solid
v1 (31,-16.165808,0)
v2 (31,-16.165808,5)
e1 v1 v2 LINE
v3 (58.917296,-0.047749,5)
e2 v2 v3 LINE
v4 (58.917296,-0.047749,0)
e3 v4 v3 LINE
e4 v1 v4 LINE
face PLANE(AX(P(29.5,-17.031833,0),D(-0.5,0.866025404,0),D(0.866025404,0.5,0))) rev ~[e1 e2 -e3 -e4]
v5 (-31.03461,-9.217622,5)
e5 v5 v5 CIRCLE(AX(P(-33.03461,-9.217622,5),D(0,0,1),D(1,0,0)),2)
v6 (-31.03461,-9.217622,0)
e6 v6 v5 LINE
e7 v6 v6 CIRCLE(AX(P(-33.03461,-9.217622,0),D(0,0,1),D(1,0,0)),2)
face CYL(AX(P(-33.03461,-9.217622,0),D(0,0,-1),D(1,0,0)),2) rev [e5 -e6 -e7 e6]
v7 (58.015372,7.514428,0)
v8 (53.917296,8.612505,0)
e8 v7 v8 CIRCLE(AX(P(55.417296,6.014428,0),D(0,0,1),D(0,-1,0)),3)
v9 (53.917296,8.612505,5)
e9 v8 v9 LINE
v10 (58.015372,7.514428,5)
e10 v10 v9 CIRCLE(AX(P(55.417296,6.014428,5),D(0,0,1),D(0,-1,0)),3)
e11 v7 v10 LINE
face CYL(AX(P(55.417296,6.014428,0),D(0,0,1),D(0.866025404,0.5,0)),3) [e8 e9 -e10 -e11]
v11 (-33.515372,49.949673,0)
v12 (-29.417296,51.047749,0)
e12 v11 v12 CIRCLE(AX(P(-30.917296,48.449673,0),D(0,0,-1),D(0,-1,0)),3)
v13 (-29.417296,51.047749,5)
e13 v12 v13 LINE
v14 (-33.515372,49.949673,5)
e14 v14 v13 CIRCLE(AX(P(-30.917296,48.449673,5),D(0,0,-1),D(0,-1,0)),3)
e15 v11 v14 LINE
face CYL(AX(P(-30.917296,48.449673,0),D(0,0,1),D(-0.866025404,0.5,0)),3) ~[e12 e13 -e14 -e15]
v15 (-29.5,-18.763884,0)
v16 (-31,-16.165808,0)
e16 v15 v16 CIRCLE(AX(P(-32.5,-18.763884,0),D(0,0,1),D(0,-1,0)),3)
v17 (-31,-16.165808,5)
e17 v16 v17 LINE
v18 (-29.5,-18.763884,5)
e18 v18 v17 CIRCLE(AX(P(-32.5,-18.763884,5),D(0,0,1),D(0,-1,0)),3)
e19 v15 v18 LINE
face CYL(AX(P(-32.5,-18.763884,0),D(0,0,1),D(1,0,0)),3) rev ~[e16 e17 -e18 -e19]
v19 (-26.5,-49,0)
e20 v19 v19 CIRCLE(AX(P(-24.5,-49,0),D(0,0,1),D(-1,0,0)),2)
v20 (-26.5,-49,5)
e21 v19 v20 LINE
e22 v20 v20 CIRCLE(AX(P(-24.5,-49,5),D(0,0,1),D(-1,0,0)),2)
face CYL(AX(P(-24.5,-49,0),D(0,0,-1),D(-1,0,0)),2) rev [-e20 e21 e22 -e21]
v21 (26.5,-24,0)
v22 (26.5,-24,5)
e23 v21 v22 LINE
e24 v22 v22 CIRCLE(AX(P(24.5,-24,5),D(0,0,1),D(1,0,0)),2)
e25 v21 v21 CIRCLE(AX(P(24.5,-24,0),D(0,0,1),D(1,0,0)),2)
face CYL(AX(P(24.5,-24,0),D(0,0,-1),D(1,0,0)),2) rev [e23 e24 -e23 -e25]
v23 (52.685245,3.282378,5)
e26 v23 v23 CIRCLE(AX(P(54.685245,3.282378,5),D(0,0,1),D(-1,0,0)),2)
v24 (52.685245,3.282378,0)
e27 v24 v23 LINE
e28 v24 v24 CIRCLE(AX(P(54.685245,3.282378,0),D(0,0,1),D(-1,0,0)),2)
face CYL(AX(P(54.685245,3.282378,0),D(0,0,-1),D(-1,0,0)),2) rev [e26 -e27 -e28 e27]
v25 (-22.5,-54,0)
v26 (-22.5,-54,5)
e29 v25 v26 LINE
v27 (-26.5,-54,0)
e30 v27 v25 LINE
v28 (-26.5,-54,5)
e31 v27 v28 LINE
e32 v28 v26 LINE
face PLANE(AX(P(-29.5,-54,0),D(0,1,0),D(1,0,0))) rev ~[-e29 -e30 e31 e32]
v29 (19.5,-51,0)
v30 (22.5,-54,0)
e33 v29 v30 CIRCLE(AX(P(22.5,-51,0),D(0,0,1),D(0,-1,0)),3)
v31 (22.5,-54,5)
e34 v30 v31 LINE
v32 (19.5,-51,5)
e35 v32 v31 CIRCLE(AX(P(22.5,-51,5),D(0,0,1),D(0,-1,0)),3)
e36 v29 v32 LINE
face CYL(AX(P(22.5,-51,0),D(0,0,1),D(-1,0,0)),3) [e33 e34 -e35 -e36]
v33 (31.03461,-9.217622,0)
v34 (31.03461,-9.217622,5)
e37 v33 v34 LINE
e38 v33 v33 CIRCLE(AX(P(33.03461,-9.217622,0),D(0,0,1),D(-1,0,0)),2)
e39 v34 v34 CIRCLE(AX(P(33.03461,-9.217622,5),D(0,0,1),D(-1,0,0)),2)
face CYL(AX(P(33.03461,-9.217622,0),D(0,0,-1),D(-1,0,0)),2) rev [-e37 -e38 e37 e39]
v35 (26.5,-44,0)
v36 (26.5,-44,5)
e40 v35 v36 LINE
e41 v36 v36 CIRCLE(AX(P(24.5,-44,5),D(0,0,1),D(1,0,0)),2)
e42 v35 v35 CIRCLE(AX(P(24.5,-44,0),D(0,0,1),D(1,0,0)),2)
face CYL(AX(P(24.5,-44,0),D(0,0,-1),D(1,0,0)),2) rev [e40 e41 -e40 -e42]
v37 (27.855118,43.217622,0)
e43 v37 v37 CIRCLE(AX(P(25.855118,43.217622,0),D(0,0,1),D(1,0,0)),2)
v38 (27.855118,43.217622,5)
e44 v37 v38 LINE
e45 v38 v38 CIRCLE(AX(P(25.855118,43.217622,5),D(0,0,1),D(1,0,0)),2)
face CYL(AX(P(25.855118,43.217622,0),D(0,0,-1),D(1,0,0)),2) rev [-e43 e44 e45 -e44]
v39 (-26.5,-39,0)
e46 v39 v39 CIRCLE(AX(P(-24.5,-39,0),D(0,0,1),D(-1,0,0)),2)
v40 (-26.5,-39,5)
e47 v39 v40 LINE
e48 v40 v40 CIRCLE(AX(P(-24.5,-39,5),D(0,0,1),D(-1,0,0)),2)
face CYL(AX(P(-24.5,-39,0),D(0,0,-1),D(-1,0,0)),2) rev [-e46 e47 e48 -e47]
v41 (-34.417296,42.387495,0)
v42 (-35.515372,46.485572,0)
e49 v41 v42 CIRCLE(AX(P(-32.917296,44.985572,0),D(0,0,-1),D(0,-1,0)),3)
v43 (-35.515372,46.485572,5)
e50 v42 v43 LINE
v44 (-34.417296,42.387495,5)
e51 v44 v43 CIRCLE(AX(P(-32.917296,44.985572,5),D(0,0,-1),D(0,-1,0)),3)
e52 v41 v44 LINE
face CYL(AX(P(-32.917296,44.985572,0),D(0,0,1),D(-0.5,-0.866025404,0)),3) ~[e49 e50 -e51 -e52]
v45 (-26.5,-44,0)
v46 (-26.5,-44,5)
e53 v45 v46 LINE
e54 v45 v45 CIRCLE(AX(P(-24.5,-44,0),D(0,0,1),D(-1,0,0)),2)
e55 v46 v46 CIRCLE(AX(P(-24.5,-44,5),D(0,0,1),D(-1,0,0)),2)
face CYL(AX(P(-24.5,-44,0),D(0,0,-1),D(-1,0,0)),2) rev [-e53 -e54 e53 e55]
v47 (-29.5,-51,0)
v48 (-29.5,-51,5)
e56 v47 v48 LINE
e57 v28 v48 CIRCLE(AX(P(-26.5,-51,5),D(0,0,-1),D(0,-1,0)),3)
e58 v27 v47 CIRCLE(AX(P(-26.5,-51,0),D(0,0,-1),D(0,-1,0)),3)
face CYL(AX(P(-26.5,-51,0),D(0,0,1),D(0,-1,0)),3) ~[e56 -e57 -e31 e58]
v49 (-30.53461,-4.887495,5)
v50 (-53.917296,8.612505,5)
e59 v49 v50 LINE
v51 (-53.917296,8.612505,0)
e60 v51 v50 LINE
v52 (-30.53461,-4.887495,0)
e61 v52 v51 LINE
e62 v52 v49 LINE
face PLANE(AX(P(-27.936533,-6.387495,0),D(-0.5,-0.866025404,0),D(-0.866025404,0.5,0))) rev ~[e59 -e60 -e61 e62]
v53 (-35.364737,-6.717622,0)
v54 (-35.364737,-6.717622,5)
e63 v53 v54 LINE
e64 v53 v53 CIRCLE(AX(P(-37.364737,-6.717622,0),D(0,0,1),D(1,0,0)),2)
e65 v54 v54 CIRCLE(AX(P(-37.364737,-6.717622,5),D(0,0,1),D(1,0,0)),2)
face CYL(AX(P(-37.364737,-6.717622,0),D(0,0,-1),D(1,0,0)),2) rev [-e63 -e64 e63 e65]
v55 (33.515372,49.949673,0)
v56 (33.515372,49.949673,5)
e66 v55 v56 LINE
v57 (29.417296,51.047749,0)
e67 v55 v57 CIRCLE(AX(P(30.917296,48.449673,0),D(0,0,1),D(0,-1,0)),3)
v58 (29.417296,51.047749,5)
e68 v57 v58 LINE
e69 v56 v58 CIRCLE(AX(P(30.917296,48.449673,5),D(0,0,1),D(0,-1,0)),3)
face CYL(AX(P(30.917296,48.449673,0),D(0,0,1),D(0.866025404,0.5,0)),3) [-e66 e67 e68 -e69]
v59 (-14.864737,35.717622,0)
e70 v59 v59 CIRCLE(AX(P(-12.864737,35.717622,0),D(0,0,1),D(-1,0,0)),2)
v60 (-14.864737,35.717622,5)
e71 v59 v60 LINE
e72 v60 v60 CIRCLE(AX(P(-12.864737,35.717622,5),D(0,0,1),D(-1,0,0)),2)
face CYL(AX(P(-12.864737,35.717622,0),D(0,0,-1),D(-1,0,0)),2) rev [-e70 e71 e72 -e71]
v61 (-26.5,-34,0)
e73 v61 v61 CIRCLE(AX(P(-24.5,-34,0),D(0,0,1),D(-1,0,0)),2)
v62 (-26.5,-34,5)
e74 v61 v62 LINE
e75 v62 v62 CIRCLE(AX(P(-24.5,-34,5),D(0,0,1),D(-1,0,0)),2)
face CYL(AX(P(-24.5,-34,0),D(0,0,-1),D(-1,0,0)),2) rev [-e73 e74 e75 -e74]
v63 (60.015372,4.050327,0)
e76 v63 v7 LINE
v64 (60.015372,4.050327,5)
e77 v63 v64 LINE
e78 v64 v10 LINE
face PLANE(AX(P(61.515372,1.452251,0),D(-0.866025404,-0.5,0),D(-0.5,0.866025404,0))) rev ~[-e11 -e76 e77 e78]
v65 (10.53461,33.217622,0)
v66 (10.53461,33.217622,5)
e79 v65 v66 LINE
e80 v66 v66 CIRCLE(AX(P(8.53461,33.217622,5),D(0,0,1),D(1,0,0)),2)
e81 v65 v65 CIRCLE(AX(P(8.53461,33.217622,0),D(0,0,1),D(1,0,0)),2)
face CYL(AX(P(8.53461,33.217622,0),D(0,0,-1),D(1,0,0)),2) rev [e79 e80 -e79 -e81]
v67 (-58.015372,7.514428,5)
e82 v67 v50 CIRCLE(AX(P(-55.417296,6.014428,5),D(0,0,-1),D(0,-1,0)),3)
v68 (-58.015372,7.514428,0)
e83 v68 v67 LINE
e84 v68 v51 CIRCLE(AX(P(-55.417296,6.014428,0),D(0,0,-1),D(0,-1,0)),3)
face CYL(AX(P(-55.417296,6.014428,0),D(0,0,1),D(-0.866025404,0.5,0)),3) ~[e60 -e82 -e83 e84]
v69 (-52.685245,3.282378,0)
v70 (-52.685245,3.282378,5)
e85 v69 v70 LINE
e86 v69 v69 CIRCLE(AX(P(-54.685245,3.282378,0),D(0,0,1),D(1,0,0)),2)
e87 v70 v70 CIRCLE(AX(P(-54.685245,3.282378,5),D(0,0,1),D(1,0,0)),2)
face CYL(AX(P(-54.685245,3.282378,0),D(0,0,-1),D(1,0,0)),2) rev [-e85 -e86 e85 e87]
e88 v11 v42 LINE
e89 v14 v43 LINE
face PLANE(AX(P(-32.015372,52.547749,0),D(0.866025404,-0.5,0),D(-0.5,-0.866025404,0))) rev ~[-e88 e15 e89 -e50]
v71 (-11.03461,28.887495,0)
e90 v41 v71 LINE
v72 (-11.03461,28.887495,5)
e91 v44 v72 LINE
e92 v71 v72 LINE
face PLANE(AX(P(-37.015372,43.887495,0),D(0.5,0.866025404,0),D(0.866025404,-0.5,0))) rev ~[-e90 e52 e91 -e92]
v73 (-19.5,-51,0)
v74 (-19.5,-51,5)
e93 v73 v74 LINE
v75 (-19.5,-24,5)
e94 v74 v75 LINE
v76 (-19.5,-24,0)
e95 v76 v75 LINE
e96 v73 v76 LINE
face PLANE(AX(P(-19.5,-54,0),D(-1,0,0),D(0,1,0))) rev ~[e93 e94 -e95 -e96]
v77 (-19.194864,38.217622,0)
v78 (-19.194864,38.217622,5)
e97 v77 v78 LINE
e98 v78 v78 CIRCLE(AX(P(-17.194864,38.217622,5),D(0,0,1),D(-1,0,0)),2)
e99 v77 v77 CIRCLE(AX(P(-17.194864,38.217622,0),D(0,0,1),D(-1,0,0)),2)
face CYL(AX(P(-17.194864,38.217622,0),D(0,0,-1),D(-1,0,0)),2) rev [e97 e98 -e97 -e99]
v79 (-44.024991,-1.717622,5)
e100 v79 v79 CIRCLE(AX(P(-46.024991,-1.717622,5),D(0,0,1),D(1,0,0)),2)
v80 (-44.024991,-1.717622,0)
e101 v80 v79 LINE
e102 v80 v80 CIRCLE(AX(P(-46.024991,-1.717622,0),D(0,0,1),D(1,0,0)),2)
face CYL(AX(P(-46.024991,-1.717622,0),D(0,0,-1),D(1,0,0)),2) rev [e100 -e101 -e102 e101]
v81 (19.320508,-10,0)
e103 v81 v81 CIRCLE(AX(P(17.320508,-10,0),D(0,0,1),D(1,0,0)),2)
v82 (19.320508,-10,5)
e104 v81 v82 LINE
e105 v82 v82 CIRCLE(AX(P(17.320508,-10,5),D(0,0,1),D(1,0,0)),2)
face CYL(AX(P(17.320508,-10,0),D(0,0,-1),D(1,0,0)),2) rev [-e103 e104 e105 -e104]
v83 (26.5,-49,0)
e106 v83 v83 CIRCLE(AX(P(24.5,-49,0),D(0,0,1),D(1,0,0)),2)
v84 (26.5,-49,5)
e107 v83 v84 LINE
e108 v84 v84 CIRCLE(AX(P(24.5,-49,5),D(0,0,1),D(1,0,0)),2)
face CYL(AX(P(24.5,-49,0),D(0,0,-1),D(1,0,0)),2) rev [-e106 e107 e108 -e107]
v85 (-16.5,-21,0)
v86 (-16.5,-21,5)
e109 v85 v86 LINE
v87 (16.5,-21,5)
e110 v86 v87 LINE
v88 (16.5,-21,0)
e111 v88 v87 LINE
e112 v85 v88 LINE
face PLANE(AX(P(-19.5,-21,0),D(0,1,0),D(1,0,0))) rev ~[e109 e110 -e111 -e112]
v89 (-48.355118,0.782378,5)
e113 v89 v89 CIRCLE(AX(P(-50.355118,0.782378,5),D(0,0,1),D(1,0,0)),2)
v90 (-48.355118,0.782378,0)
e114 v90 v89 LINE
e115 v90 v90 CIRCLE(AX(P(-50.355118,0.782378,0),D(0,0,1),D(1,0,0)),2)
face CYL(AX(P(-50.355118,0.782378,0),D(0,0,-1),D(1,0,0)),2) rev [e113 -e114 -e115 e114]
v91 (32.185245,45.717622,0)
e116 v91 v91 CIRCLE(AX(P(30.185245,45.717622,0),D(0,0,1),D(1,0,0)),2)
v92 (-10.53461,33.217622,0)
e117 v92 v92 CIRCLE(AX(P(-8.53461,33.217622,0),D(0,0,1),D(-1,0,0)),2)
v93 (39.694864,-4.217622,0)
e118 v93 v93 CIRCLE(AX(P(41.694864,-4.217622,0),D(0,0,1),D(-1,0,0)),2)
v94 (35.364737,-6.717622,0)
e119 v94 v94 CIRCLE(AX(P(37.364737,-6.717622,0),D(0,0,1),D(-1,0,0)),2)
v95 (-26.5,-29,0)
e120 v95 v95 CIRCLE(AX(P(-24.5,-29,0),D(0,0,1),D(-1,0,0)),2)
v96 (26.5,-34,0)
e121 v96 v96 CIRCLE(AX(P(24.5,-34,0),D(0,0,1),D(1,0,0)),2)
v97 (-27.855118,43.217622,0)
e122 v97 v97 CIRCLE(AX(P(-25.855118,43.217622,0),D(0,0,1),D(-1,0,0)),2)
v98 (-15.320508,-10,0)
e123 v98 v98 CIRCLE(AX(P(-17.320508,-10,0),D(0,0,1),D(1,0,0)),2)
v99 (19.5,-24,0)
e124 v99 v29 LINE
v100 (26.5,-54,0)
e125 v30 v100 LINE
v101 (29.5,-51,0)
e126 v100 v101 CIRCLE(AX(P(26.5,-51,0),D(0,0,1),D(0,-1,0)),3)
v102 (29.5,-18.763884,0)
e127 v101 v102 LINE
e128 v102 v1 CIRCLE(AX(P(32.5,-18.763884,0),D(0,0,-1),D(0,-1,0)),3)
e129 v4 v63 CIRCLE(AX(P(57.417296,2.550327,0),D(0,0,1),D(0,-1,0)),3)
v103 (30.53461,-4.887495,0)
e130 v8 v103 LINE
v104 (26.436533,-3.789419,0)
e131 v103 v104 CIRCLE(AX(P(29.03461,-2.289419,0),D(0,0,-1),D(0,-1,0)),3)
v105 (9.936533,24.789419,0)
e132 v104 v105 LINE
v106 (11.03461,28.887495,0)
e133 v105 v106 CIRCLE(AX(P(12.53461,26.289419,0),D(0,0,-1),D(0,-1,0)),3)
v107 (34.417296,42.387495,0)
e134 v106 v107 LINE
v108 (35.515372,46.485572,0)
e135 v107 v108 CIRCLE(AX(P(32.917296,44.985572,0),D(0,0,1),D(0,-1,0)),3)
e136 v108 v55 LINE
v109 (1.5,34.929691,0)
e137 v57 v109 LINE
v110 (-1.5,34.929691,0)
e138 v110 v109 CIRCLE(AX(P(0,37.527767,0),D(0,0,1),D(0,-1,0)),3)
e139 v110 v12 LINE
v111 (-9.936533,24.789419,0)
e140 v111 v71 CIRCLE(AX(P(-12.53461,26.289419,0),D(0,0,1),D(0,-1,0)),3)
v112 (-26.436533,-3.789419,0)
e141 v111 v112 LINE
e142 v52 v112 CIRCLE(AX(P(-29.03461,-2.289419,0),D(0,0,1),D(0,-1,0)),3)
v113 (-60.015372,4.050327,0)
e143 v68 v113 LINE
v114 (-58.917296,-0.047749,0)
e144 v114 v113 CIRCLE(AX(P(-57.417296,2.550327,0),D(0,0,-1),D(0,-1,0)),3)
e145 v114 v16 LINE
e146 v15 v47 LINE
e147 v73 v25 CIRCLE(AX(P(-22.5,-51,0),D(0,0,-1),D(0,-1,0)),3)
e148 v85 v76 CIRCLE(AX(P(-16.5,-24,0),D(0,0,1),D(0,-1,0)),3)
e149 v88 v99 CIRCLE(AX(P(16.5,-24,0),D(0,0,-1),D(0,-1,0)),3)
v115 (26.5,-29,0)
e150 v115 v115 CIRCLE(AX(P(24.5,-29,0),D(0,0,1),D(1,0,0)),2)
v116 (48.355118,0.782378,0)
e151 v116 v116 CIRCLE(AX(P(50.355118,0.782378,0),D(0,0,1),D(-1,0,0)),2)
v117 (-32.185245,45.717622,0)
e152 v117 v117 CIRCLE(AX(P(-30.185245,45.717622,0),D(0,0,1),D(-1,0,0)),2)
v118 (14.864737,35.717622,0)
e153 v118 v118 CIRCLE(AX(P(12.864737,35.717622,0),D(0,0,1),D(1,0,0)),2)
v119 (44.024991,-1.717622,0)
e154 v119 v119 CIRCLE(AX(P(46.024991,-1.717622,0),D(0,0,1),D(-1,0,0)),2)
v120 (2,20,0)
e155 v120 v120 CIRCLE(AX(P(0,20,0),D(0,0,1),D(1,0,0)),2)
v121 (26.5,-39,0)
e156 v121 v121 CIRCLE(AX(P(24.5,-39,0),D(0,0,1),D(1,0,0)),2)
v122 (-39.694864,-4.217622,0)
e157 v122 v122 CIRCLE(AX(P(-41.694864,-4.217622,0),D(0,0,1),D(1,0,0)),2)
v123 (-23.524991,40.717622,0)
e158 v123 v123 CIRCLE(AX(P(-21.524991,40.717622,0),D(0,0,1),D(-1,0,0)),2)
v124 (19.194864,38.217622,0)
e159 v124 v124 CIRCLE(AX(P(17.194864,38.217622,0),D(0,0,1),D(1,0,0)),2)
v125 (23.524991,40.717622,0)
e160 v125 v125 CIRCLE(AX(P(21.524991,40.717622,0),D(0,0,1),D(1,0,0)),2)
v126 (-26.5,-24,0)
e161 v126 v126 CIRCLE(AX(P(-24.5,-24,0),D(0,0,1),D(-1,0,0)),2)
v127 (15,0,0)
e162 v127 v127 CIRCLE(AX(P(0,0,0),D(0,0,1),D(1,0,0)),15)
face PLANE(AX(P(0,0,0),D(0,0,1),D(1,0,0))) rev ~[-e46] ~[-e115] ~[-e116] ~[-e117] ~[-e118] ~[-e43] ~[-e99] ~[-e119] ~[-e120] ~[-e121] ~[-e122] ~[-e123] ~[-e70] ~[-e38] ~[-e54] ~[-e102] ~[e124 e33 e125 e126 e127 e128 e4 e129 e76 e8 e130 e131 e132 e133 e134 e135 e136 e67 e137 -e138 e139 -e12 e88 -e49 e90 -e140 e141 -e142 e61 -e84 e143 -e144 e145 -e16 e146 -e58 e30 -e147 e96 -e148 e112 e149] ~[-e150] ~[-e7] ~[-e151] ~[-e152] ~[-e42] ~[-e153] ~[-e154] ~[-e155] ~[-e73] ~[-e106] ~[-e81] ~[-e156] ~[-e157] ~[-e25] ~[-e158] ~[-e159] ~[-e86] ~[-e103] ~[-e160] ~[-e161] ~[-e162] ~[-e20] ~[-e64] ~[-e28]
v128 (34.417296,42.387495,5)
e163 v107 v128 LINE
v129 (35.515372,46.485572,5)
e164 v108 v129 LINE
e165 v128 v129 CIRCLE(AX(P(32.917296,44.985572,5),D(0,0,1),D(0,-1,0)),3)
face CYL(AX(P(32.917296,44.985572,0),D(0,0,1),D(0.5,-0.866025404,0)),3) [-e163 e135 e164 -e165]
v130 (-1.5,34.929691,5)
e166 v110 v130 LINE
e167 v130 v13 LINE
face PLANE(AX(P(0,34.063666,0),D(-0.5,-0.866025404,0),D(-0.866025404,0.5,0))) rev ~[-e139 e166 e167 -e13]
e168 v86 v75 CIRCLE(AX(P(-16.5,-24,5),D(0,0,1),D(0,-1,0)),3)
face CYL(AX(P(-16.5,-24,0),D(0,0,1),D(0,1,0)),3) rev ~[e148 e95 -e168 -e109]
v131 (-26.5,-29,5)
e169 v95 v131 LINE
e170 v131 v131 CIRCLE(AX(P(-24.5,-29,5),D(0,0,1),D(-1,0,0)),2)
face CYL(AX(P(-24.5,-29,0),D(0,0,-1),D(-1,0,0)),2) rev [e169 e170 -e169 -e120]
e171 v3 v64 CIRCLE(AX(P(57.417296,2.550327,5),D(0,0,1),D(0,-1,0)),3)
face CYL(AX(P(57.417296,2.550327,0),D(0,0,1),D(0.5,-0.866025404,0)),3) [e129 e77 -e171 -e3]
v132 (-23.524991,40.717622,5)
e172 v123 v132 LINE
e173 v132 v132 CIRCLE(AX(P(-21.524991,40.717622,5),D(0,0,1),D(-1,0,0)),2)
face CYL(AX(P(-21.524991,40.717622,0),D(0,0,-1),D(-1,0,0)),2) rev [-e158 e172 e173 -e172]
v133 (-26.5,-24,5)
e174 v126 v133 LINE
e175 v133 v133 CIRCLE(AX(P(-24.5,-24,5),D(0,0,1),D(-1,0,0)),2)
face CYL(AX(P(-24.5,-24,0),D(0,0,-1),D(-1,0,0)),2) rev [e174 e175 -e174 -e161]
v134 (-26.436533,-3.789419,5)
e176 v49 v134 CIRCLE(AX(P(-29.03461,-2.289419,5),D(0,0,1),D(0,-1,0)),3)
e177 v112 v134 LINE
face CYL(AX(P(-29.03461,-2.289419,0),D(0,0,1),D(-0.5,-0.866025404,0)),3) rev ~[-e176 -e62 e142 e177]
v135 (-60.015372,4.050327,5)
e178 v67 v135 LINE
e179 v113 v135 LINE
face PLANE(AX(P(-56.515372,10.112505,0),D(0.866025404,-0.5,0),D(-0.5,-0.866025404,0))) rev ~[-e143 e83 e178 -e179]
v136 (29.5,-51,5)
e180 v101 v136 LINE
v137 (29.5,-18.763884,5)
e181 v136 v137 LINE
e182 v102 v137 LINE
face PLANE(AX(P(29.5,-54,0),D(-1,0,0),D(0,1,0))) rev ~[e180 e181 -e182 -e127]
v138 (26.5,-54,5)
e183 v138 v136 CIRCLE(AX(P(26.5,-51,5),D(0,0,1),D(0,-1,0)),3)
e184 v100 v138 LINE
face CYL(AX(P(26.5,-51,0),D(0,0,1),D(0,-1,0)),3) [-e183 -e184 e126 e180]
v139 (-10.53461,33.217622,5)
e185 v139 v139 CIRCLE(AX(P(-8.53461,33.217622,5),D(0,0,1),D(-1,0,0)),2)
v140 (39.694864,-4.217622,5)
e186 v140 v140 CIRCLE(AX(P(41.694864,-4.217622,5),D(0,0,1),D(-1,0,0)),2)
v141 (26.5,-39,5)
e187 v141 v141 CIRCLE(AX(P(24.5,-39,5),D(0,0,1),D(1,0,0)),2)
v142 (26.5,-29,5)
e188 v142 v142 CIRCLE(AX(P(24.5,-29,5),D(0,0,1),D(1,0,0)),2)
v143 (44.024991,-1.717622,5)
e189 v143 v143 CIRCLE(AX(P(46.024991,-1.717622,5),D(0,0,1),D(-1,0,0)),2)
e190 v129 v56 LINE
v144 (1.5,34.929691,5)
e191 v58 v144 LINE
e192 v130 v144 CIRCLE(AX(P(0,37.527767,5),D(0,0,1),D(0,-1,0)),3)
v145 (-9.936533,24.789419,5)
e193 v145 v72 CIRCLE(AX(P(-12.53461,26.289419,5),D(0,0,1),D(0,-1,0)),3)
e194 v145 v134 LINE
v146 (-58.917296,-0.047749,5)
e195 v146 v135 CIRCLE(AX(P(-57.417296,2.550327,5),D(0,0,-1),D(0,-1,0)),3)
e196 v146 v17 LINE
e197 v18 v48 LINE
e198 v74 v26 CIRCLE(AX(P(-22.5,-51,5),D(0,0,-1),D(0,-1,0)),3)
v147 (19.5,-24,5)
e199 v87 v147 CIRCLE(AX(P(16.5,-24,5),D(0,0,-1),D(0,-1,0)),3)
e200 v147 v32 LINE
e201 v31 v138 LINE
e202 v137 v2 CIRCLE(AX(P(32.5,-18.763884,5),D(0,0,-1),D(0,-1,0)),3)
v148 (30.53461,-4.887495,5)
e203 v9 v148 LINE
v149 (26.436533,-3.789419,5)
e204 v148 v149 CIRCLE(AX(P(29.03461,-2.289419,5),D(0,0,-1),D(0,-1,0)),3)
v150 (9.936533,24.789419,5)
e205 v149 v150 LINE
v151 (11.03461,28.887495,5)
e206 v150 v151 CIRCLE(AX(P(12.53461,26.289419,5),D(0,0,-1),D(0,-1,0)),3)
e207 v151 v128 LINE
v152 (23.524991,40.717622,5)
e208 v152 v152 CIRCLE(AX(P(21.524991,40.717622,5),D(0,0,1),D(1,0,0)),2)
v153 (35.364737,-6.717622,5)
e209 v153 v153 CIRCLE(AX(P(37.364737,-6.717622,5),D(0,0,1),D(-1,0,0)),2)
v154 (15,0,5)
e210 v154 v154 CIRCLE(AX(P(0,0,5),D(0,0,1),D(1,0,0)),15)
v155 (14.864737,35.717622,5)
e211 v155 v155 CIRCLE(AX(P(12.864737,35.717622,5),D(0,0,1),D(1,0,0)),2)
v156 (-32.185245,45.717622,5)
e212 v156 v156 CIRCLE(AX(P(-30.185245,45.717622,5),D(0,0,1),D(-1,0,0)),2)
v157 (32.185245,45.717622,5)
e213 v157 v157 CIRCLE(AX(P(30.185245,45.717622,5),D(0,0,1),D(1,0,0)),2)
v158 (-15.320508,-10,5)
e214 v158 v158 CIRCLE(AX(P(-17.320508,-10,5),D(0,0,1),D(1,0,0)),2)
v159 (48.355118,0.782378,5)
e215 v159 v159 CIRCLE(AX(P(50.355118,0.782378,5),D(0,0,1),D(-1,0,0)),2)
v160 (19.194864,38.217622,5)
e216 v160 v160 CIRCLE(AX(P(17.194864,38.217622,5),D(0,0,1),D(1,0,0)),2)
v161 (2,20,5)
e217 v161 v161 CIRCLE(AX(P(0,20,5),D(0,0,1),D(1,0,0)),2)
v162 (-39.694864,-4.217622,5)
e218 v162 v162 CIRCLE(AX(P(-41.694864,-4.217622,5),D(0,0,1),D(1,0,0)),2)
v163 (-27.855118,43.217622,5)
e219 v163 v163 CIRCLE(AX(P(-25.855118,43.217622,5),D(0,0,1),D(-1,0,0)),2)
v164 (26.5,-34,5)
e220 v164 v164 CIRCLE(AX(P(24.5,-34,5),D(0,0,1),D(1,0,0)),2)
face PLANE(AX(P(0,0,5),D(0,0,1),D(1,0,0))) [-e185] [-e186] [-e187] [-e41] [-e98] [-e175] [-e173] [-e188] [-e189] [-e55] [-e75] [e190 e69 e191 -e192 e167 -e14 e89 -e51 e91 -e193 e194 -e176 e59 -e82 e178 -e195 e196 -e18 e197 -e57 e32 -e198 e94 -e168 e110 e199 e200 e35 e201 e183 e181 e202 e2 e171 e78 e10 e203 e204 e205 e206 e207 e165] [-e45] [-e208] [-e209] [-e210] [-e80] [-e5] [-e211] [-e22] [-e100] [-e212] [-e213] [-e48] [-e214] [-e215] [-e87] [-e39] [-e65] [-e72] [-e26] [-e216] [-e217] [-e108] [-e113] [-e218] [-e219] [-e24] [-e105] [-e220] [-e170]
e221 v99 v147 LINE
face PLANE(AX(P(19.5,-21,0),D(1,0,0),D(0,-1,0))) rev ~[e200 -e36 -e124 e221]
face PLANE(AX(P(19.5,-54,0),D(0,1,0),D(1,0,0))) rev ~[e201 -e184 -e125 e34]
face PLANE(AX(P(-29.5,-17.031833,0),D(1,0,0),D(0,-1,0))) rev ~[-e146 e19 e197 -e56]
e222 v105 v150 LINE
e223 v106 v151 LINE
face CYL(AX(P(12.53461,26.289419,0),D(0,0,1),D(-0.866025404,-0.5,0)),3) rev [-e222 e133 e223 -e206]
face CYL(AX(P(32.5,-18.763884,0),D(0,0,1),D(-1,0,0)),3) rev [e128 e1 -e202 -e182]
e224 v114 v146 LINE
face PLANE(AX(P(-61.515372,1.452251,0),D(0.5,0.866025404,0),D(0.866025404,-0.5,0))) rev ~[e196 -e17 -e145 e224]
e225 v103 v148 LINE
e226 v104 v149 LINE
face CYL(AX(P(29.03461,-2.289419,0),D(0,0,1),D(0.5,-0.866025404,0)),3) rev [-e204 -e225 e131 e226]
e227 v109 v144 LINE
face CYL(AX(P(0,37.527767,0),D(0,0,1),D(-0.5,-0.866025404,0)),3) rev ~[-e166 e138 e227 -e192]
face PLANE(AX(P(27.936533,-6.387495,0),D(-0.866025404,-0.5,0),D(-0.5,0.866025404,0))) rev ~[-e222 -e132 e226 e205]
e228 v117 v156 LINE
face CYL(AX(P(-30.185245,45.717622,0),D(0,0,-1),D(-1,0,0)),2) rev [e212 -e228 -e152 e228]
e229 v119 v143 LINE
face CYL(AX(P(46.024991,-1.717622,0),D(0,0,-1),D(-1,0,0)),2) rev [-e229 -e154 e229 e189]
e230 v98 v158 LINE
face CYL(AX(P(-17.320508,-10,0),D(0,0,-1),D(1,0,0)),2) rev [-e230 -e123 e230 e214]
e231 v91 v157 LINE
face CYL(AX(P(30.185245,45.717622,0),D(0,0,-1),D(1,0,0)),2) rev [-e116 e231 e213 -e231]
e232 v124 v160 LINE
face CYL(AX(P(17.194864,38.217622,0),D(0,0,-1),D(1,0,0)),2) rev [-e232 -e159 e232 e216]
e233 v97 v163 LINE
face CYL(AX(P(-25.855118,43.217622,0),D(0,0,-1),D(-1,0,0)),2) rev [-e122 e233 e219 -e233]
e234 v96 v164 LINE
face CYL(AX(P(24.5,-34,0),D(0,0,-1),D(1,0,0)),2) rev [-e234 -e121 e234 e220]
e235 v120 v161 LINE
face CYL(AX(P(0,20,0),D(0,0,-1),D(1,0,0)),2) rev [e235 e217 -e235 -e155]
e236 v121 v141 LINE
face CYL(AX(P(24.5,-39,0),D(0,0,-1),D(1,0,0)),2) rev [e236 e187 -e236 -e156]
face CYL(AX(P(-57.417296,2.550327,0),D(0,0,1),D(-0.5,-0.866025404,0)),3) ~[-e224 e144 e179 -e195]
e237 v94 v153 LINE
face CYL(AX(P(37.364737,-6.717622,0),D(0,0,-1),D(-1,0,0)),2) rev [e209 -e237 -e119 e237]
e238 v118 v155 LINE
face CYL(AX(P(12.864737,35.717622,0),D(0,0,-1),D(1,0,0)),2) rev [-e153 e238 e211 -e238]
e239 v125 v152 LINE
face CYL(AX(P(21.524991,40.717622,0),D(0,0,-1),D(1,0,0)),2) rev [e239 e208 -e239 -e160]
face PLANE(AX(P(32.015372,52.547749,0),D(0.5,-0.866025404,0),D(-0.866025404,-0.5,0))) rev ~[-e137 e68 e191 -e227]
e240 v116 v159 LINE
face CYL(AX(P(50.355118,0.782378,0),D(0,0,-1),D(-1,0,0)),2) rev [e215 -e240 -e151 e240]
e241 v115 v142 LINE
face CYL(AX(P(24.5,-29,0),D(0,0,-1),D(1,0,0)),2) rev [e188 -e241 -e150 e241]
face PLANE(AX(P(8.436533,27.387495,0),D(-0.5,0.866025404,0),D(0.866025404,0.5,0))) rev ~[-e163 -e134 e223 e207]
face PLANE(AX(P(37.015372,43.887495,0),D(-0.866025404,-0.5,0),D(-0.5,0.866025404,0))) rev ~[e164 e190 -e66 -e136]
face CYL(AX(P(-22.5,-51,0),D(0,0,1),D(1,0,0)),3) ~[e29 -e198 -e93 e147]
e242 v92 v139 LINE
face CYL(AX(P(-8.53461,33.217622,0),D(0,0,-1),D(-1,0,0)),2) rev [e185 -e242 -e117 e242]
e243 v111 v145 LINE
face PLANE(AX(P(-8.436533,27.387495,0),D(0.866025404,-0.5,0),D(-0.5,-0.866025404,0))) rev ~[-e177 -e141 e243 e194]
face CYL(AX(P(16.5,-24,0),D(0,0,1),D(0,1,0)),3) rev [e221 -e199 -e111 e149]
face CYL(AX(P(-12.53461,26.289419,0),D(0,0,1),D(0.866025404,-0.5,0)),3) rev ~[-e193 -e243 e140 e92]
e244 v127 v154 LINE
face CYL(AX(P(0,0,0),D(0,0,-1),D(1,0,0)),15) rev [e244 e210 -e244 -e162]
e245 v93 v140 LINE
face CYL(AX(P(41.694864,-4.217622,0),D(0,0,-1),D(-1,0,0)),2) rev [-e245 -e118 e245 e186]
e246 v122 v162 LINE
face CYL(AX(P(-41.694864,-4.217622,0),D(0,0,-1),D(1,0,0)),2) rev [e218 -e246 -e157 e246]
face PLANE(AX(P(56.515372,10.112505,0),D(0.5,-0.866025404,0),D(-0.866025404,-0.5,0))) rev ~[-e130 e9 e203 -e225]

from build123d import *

# Parameters (mm, degrees)
SKETCH1_R           = 2
SKETCH1_R_2         = 15
BOSS_EXTRUDE1_DEPTH = 5
FILLET1_R           = 3


with BuildPart() as part:
    # Sketch1 → Boss-Extrude1 (new body)
    with BuildSketch(Plane.XY):
        Polygon((-19.5, -21), (19.5, -21), (19.5, -54), (29.5, -54), (29.5, -17.031832941), (61.515371804, 1.452250588), (56.515371804, 10.112504626), (27.936533479, -6.387495374), (8.436533479, 27.387495374), (37.015371804, 43.887495374), (32.015371804, 52.547749412), (0, 34.063665882), (-32.015371804, 52.547749412), (-37.015371804, 43.887495374), (-8.436533479, 27.387495374), (-27.936533479, -6.387495374), (-56.515371804, 10.112504626), (-61.515371804, 1.452250588), (-29.5, -17.031832941), (-29.5, -54), (-19.5, -54), align=None)
        with Locations((24.5, -24)):
            Circle(SKETCH1_R, mode=Mode.SUBTRACT)
        with Locations((24.5, -29)):
            Circle(SKETCH1_R, mode=Mode.SUBTRACT)
        with Locations((24.5, -34)):
            Circle(SKETCH1_R, mode=Mode.SUBTRACT)
        with Locations((24.5, -39)):
            Circle(SKETCH1_R, mode=Mode.SUBTRACT)
        with Locations((24.5, -44)):
            Circle(SKETCH1_R, mode=Mode.SUBTRACT)
        with Locations((24.5, -49)):
            Circle(SKETCH1_R, mode=Mode.SUBTRACT)
        with Locations(Location((-24.5, -49, 0), (0, 0, 180))):
            Circle(SKETCH1_R, mode=Mode.SUBTRACT)
        with Locations(Location((-24.5, -44, 0), (0, 0, 180))):
            Circle(SKETCH1_R, mode=Mode.SUBTRACT)
        with Locations(Location((-24.5, -39, 0), (0, 0, 180))):
            Circle(SKETCH1_R, mode=Mode.SUBTRACT)
        with Locations(Location((-24.5, -34, 0), (0, 0, 180))):
            Circle(SKETCH1_R, mode=Mode.SUBTRACT)
        with Locations(Location((-24.5, -29, 0), (0, 0, 180))):
            Circle(SKETCH1_R, mode=Mode.SUBTRACT)
        with Locations(Location((-24.5, -24, 0), (0, 0, 180))):
            Circle(SKETCH1_R, mode=Mode.SUBTRACT)
        with Locations(Location((-8.534609691, 33.217622393, 0), (0, 0, 180))):
            Circle(SKETCH1_R, mode=Mode.SUBTRACT)
        with Locations(Location((-12.86473671, 35.717622393, 0), (0, 0, 180))):
            Circle(SKETCH1_R, mode=Mode.SUBTRACT)
        with Locations(Location((-17.194863729, 38.217622393, 0), (0, 0, 180))):
            Circle(SKETCH1_R, mode=Mode.SUBTRACT)
        with Locations(Location((-21.524990748, 40.717622393, 0), (0, 0, 180))):
            Circle(SKETCH1_R, mode=Mode.SUBTRACT)
        with Locations(Location((-25.855117767, 43.217622393, 0), (0, 0, 180))):
            Circle(SKETCH1_R, mode=Mode.SUBTRACT)
        with Locations(Location((-30.185244785, 45.717622393, 0), (0, 0, 180))):
            Circle(SKETCH1_R, mode=Mode.SUBTRACT)
        with Locations((-33.034609691, -9.217622393)):
            Circle(SKETCH1_R, mode=Mode.SUBTRACT)
        with Locations((-37.36473671, -6.717622393)):
            Circle(SKETCH1_R, mode=Mode.SUBTRACT)
        with Locations((-41.694863729, -4.217622393)):
            Circle(SKETCH1_R, mode=Mode.SUBTRACT)
        with Locations((-46.024990748, -1.717622393)):
            Circle(SKETCH1_R, mode=Mode.SUBTRACT)
        with Locations((-50.355117767, 0.782377607)):
            Circle(SKETCH1_R, mode=Mode.SUBTRACT)
        with Locations((-54.685244785, 3.282377607)):
            Circle(SKETCH1_R, mode=Mode.SUBTRACT)
        with Locations(Location((33.034609691, -9.217622393, 0), (0, 0, 180))):
            Circle(SKETCH1_R, mode=Mode.SUBTRACT)
        with Locations(Location((37.36473671, -6.717622393, 0), (0, 0, 180))):
            Circle(SKETCH1_R, mode=Mode.SUBTRACT)
        with Locations(Location((41.694863729, -4.217622393, 0), (0, 0, 180))):
            Circle(SKETCH1_R, mode=Mode.SUBTRACT)
        with Locations(Location((46.024990748, -1.717622393, 0), (0, 0, 180))):
            Circle(SKETCH1_R, mode=Mode.SUBTRACT)
        with Locations(Location((50.355117767, 0.782377607, 0), (0, 0, 180))):
            Circle(SKETCH1_R, mode=Mode.SUBTRACT)
        with Locations(Location((54.685244785, 3.282377607, 0), (0, 0, 180))):
            Circle(SKETCH1_R, mode=Mode.SUBTRACT)
        with Locations((8.534609691, 33.217622393)):
            Circle(SKETCH1_R, mode=Mode.SUBTRACT)
        with Locations((12.86473671, 35.717622393)):
            Circle(SKETCH1_R, mode=Mode.SUBTRACT)
        with Locations((17.194863729, 38.217622393)):
            Circle(SKETCH1_R, mode=Mode.SUBTRACT)
        with Locations((21.524990748, 40.717622393)):
            Circle(SKETCH1_R, mode=Mode.SUBTRACT)
        with Locations((25.855117767, 43.217622393)):
            Circle(SKETCH1_R, mode=Mode.SUBTRACT)
        with Locations((30.185244785, 45.717622393)):
            Circle(SKETCH1_R, mode=Mode.SUBTRACT)
        with Locations((0, 20)):
            Circle(SKETCH1_R, mode=Mode.SUBTRACT)
        with Locations((17.320508076, -10)):
            Circle(SKETCH1_R, mode=Mode.SUBTRACT)
        with Locations((-17.320508076, -10)):
            Circle(SKETCH1_R, mode=Mode.SUBTRACT)
        Circle(SKETCH1_R_2, mode=Mode.SUBTRACT)
    extrude(amount=BOSS_EXTRUDE1_DEPTH)

    # Fillet1
    fillet1_edges = [part.edges().sort_by_distance(p)[0] for p in [
        (19.5, -54, 2.5),
        (19.5, -21, 2.5),
        (-19.5, -21, 2.5),
        (-19.5, -54, 2.5),
        (-29.5, -54, 2.5),
        (-29.5, -17.031832941, 2.5),
        (-61.515371804, 1.452250588, 2.5),
        (-56.515371804, 10.112504626, 2.5),
        (-27.936533479, -6.387495374, 2.5),
        (-8.436533479, 27.387495374, 2.5),
        (-37.015371804, 43.887495374, 2.5),
        (-32.015371804, 52.547749412, 2.5),
        (0, 34.063665882, 2.5),
        (32.015371804, 52.547749412, 2.5),
        (37.015371804, 43.887495374, 2.5),
        (8.436533479, 27.387495374, 2.5),
        (27.936533479, -6.387495374, 2.5),
        (56.515371804, 10.112504626, 2.5),
        (61.515371804, 1.452250588, 2.5),
        (29.5, -17.031832941, 2.5),
        (29.5, -54, 2.5),
    ]]
    fillet(fillet1_edges, radius=FILLET1_R)


solid = part.part
